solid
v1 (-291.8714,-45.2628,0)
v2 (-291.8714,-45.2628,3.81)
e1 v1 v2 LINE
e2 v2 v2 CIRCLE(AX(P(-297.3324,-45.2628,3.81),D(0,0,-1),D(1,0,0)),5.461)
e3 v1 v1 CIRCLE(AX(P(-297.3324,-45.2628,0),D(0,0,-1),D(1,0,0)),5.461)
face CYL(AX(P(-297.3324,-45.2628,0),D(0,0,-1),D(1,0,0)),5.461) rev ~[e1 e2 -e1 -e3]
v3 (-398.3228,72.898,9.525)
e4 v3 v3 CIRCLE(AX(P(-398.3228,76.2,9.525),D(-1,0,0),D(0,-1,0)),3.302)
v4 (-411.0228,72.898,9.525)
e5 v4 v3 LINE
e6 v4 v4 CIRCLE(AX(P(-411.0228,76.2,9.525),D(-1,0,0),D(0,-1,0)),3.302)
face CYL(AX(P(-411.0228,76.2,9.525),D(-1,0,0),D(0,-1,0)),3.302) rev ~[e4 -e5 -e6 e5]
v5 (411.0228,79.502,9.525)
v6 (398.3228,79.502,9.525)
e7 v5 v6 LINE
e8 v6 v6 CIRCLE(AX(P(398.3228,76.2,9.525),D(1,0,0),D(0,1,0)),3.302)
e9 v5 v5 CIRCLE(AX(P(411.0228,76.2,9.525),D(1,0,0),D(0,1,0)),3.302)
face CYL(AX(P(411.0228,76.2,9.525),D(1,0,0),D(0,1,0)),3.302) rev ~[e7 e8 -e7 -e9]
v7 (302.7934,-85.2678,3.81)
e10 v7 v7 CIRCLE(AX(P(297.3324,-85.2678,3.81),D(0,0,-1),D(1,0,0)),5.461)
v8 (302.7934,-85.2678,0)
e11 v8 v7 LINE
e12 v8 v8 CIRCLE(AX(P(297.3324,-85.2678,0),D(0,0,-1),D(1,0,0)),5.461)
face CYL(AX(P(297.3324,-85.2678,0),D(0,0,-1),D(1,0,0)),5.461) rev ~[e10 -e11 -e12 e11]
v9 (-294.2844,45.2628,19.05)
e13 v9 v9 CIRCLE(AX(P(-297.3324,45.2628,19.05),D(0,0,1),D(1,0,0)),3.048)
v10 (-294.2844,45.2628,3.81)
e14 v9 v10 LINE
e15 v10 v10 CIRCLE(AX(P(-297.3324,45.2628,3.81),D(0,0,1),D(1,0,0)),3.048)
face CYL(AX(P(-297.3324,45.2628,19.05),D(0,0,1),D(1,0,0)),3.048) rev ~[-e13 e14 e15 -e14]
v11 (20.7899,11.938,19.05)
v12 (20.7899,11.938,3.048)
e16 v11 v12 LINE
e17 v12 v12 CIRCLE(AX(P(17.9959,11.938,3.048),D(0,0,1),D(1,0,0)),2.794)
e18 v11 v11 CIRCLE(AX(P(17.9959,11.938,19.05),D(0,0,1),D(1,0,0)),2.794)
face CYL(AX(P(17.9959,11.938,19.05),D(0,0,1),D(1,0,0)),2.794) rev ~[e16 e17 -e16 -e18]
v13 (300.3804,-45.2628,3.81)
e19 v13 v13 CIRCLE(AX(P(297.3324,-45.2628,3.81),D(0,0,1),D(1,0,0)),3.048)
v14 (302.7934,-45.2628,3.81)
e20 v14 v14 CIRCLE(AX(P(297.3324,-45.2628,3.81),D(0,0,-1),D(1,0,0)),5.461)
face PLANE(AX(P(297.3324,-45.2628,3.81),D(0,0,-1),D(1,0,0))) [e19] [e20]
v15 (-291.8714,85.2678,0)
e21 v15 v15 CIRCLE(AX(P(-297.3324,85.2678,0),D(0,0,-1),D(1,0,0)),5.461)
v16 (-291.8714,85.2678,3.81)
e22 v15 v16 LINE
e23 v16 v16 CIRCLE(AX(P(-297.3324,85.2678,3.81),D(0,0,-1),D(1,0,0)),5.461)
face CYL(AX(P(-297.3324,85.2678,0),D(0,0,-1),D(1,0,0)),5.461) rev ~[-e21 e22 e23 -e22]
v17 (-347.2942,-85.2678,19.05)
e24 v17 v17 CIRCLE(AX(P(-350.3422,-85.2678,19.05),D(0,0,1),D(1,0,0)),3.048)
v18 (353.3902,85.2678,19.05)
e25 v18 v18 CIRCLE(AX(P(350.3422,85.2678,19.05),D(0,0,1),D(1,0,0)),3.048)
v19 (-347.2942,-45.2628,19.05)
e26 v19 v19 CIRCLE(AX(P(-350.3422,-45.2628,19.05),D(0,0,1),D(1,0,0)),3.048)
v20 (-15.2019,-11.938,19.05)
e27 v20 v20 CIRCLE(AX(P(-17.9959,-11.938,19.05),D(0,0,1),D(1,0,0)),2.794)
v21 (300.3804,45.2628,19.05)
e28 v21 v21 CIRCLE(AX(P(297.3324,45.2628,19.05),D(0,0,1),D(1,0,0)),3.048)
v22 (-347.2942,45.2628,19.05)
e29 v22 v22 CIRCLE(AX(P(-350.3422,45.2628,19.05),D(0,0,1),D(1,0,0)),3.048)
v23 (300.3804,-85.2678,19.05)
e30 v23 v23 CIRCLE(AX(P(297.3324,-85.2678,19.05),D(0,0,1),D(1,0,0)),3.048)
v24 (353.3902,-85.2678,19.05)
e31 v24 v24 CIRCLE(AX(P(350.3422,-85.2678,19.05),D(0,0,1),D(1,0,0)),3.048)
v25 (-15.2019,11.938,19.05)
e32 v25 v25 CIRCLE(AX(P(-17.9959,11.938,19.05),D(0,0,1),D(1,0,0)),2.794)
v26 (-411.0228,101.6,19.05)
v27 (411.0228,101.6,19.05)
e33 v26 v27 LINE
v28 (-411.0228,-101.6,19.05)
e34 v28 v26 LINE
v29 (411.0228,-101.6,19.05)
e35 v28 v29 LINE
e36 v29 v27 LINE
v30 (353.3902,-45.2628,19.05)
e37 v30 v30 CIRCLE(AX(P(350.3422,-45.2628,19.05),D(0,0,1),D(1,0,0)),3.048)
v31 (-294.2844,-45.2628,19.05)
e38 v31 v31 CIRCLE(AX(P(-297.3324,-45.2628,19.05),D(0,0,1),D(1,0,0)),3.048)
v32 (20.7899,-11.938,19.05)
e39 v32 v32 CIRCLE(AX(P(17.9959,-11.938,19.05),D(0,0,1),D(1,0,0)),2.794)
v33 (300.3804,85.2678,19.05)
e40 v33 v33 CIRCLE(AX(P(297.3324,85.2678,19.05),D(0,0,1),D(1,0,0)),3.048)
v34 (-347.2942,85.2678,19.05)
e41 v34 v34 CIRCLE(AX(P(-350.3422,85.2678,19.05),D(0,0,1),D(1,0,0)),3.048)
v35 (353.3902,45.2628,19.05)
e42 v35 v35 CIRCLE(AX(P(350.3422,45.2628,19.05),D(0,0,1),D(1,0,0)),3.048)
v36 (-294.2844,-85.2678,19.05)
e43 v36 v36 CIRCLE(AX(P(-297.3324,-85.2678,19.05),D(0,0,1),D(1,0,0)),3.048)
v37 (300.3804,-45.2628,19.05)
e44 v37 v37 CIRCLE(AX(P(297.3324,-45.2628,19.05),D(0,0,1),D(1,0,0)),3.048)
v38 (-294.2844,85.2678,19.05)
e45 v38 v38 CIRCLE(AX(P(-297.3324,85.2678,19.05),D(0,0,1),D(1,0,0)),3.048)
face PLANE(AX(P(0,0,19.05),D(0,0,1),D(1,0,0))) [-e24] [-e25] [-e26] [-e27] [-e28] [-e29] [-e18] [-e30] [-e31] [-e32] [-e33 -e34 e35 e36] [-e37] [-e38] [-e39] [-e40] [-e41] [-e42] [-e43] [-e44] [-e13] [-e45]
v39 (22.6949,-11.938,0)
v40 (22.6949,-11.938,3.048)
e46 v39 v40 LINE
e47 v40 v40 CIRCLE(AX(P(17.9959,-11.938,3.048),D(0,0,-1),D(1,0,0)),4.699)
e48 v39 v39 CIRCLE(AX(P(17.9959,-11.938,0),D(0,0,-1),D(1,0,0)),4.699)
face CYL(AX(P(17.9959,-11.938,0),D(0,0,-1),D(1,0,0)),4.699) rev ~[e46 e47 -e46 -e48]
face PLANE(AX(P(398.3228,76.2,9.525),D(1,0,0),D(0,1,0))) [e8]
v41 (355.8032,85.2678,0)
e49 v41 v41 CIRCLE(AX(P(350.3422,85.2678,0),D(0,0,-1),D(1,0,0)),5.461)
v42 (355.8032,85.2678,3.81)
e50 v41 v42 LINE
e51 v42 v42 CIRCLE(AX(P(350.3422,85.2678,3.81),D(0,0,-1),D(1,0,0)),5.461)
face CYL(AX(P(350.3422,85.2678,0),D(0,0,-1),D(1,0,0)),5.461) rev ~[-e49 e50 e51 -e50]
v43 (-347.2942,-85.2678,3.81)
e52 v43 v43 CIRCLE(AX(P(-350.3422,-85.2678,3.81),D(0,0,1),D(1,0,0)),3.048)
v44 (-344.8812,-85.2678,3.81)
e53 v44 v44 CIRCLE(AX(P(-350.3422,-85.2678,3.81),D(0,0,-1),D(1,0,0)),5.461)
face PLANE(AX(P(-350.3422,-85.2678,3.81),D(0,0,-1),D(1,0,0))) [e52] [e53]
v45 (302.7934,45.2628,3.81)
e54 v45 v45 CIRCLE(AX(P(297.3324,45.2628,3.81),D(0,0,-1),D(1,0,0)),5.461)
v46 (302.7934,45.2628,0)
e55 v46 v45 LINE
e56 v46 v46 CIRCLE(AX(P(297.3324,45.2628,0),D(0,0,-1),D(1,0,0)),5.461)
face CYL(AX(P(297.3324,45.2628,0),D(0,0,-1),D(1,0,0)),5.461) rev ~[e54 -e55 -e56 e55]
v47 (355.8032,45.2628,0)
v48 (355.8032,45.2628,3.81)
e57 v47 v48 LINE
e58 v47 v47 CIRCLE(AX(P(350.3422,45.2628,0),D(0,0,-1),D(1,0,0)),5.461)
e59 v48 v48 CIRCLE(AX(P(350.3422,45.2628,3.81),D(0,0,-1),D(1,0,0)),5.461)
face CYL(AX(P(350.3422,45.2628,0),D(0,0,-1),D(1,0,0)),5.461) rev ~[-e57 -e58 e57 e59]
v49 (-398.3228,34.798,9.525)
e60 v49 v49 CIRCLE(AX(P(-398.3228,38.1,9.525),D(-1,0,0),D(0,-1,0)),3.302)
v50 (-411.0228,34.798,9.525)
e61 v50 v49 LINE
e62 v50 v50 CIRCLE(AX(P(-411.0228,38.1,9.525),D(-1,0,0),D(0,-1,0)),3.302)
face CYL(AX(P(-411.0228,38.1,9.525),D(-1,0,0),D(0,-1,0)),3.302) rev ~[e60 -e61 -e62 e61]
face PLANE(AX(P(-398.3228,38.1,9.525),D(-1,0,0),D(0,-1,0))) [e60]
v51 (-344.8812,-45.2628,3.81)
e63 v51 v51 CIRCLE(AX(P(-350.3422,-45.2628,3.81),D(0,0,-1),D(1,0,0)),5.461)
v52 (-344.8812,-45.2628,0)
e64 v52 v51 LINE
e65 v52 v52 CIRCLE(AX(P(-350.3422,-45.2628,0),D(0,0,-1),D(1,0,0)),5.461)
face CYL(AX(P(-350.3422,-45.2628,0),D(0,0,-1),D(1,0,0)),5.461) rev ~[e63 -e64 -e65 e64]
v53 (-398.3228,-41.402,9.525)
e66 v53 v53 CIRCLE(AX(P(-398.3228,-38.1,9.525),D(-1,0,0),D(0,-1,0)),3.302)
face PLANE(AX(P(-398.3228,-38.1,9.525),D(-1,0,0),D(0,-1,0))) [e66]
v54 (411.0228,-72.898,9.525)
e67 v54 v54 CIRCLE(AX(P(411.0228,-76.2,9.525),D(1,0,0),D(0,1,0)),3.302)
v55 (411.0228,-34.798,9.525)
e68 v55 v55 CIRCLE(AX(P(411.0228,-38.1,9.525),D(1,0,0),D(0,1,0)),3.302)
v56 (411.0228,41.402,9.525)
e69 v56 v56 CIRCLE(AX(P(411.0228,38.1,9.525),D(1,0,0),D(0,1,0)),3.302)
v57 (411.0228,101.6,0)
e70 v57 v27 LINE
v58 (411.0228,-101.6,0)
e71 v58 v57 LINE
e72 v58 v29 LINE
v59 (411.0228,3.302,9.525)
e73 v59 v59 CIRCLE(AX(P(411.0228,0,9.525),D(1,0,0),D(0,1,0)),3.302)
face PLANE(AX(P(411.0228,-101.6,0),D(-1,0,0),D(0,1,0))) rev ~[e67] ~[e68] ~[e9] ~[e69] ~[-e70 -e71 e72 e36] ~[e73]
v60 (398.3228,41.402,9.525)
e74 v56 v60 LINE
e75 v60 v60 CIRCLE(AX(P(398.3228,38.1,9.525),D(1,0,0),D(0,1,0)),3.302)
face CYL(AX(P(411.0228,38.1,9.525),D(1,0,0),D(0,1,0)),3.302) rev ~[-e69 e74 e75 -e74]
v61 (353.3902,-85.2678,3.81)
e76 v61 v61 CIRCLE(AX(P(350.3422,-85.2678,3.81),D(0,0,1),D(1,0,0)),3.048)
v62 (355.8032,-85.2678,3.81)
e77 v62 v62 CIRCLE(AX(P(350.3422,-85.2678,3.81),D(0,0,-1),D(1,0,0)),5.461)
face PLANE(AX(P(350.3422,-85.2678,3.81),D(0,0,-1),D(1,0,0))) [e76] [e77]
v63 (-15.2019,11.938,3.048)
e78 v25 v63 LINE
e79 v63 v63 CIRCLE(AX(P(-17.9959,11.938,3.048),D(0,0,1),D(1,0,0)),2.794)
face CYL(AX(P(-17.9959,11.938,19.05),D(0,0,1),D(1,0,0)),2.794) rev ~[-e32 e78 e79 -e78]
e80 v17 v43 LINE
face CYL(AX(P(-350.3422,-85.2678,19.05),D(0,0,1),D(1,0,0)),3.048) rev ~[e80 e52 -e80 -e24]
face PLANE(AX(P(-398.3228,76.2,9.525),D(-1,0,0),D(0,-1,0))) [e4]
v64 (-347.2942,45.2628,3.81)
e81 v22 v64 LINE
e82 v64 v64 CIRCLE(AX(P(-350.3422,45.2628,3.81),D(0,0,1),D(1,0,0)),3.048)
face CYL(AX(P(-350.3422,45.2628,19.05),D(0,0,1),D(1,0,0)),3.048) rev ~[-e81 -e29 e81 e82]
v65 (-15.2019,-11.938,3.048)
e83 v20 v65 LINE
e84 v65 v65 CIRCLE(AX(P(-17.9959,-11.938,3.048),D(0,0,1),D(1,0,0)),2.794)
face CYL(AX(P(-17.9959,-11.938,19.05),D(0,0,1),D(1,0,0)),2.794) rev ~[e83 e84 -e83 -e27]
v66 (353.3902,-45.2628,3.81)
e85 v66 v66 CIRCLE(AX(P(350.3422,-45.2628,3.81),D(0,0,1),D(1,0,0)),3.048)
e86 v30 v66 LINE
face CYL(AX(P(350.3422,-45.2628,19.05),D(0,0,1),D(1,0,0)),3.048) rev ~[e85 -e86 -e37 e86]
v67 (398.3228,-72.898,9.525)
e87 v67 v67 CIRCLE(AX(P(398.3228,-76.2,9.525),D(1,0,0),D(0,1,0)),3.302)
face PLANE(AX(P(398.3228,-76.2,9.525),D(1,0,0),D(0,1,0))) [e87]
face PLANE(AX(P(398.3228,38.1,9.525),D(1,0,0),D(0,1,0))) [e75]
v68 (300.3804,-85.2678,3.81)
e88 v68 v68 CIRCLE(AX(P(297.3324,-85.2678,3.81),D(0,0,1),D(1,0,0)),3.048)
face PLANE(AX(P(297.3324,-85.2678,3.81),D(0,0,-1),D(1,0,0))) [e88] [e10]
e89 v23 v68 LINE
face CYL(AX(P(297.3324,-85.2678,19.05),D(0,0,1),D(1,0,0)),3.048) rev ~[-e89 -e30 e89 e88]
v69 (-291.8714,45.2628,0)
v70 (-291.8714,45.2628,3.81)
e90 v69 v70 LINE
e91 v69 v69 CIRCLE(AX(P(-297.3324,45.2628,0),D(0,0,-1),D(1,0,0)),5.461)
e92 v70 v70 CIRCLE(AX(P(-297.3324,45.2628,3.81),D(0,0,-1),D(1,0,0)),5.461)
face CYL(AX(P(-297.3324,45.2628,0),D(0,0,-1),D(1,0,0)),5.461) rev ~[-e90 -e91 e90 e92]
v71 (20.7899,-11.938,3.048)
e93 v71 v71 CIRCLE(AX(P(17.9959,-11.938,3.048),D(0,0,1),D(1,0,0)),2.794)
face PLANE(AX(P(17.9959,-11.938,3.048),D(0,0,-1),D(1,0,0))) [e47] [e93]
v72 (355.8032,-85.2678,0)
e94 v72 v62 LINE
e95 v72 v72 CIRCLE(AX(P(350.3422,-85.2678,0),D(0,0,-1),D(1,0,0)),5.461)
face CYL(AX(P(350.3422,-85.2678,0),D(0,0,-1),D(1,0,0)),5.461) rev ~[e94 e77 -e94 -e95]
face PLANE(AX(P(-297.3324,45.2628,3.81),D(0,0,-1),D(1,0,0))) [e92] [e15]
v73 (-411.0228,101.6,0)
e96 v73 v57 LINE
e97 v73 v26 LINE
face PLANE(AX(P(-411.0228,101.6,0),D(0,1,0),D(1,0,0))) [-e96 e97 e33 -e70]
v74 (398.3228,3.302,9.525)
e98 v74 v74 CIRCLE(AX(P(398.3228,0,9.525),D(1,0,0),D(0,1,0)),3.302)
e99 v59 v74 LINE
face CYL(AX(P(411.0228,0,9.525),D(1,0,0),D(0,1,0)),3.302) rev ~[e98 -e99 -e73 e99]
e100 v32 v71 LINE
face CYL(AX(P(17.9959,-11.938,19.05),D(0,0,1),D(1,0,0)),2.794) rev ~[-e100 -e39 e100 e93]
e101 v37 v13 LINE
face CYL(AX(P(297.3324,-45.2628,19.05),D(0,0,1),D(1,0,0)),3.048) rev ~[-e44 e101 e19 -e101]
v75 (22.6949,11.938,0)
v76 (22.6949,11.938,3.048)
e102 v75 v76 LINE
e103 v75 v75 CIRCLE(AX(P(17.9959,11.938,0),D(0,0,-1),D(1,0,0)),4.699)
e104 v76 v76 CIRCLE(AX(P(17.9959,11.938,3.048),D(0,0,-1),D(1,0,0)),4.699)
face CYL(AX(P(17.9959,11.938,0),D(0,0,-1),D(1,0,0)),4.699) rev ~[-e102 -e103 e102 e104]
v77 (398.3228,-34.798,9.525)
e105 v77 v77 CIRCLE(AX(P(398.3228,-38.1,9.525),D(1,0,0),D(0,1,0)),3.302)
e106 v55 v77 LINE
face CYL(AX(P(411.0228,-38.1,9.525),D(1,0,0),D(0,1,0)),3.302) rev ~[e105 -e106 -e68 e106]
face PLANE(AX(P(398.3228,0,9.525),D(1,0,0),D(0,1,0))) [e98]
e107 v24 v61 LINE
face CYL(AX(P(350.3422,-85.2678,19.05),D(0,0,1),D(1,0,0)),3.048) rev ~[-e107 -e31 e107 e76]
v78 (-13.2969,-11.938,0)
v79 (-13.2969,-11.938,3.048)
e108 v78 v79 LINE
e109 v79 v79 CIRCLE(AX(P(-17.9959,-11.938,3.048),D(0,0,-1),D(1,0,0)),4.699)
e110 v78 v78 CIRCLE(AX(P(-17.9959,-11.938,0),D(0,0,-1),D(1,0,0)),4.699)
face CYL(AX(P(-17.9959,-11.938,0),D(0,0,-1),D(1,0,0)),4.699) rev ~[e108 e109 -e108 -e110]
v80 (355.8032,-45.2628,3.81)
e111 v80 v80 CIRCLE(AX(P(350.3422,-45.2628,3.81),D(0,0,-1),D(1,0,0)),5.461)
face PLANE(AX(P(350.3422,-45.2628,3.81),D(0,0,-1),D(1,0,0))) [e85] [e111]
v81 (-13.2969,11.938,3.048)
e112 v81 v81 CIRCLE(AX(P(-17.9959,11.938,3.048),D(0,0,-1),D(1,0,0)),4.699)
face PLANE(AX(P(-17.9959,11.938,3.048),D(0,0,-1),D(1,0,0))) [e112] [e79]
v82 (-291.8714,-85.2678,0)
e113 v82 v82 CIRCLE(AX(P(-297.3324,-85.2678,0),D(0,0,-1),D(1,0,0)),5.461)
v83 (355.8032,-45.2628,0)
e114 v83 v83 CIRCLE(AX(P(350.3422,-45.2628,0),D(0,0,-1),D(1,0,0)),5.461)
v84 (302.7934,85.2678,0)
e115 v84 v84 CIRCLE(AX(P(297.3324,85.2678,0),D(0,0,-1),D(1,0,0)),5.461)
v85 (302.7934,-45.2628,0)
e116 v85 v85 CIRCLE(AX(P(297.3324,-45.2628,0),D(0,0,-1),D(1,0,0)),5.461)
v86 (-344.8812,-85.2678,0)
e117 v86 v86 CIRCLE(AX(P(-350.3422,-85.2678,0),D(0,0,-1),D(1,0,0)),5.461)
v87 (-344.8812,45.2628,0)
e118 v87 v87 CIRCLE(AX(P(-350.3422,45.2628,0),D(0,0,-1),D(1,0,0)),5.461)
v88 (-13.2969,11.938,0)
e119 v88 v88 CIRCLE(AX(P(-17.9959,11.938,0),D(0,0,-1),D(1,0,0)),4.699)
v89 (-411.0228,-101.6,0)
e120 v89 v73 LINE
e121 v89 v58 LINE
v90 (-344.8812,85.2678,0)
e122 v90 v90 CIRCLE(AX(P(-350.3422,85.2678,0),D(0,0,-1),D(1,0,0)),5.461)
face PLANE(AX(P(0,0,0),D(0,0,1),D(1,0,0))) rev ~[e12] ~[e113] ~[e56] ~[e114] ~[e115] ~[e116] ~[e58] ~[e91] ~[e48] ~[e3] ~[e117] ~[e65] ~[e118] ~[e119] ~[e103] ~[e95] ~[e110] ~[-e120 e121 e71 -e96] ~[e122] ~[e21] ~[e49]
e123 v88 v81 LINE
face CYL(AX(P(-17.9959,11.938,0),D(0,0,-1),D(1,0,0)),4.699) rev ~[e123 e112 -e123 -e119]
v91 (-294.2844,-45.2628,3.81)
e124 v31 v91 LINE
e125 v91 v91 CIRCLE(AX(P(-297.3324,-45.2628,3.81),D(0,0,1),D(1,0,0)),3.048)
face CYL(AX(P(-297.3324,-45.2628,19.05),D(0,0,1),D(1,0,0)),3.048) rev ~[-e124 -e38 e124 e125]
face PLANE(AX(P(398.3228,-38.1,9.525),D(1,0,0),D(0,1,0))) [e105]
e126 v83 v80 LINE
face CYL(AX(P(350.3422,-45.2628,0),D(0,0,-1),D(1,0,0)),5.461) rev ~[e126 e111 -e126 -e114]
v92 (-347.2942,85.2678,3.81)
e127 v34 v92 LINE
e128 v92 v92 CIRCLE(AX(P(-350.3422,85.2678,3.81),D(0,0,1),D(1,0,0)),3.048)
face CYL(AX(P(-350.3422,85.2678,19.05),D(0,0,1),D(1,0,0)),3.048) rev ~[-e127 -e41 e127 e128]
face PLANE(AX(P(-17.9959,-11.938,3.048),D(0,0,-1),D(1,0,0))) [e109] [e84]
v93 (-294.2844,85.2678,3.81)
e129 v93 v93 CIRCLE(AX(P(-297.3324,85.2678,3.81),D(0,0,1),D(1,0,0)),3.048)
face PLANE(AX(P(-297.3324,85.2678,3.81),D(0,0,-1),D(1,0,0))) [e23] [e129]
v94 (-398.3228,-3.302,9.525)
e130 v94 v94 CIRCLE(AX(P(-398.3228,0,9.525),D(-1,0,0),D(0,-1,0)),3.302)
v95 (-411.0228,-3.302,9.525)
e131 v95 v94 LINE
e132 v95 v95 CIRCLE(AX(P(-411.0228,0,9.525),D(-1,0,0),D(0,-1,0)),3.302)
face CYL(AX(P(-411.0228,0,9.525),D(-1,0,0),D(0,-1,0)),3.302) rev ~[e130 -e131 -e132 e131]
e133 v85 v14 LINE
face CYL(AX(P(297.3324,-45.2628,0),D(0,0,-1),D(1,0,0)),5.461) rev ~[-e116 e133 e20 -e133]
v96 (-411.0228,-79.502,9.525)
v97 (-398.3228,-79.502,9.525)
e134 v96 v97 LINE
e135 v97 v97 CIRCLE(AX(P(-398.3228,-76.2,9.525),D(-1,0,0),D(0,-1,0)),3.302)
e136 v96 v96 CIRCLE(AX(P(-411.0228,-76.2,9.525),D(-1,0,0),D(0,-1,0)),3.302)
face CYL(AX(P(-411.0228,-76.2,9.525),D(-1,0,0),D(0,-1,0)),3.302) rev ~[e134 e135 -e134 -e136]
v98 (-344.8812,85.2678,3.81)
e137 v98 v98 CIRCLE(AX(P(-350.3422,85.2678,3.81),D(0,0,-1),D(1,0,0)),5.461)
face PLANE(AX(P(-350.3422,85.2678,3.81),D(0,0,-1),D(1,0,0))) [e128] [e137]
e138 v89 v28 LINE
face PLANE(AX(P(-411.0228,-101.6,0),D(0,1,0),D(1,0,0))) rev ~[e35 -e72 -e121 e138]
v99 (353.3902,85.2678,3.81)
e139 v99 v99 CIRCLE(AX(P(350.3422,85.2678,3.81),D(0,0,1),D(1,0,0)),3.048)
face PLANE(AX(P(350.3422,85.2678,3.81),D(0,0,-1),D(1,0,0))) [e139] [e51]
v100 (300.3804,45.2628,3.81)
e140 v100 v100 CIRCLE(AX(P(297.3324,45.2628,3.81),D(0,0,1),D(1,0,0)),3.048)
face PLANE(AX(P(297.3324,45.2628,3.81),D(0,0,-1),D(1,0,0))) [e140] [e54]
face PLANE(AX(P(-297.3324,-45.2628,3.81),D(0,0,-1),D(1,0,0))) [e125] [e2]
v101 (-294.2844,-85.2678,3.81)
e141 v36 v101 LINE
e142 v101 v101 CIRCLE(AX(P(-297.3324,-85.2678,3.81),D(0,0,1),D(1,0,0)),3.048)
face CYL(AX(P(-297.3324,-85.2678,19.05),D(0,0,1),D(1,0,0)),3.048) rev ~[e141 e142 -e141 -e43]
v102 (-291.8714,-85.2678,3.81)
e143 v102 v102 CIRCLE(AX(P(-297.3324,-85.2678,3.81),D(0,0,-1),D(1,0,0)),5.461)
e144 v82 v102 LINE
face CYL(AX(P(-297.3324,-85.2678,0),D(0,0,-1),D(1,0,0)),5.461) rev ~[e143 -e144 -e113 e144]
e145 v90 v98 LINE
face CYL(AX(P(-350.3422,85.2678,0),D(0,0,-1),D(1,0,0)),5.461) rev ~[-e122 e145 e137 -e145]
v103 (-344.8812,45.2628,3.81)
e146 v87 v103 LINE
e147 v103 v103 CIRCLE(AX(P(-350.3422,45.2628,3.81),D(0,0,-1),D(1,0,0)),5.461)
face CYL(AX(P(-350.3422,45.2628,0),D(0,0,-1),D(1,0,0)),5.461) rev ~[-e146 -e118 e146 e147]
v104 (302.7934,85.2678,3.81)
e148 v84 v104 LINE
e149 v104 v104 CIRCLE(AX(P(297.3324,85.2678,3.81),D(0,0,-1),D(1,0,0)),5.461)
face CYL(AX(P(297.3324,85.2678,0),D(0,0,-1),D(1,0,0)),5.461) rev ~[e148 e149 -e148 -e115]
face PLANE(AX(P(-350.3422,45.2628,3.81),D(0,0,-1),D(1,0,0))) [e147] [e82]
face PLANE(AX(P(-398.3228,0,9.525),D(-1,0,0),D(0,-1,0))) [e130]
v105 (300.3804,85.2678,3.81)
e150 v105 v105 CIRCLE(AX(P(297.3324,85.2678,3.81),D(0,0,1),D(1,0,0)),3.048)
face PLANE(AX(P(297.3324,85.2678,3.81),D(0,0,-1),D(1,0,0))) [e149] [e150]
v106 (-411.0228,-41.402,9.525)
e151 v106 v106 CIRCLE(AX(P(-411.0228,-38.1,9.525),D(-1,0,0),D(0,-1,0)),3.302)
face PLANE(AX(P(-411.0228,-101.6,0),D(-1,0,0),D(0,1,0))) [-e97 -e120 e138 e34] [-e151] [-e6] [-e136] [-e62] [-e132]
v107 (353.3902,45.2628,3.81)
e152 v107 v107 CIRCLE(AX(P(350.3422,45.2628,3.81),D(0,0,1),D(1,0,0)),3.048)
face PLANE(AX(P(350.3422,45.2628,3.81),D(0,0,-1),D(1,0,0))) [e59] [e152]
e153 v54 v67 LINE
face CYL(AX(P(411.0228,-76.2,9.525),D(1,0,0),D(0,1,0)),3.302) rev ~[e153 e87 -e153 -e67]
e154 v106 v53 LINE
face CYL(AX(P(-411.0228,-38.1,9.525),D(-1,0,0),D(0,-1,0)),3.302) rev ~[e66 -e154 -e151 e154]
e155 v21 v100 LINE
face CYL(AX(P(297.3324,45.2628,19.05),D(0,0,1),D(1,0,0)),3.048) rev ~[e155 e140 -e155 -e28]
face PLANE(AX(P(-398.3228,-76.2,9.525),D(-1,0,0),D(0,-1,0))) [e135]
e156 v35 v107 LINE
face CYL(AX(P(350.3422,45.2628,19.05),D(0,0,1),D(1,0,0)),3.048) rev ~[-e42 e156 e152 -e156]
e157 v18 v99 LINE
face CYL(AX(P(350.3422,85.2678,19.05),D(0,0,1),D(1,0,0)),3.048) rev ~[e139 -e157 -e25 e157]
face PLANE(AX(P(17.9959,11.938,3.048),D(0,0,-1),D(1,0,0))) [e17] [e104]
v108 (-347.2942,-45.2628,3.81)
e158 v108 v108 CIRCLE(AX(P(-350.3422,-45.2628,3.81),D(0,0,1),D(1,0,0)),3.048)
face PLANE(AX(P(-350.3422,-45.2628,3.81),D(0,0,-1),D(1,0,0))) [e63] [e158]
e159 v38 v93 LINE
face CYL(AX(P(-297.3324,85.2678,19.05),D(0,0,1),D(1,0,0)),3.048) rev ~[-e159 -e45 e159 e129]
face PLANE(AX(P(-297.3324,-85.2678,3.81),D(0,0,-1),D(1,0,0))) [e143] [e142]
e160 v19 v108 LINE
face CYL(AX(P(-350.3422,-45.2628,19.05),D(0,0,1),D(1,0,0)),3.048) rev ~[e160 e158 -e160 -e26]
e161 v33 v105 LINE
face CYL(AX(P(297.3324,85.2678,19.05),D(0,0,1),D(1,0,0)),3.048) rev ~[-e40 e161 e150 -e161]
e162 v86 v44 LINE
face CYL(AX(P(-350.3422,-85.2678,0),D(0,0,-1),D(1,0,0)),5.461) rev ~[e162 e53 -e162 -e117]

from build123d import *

# Parameters (mm, degrees)
F0_W      = 822.0456
F0_H      = 203.2
F1_DEPTH  = 19.05
F2_R      = 3.048
F3_DEPTH  = 19.051
F4_R      = 2.794
F5_DEPTH  = 19.051
F6_R      = 3.302
F7_DEPTH  = 12.7
F8_R      = 3.302
F9_DEPTH  = 12.7
F10_R     = 5.461
F11_DEPTH = 3.81
F12_R     = 4.699
F13_DEPTH = 3.048


with BuildPart() as f1:
    # F0 (on Top) → F1 (new body)
    with BuildSketch(Plane.XY):
        Rectangle(F0_W, F0_H)
    extrude(amount=F1_DEPTH)

    # F2 (on face) → F3 (cut, through all)
    with BuildSketch(Plane.XY.offset(19.05)):
        with Locations((-350.3422, 85.2678)):
            Circle(F2_R)
        with Locations((-297.3324, 85.2678)):
            Circle(F2_R)
        with Locations((-350.3422, 45.2628)):
            Circle(F2_R)
        with Locations((-297.3324, 45.2628)):
            Circle(F2_R)
        with Locations((-350.3422, -45.2628)):
            Circle(F2_R)
        with Locations((-297.3324, -45.2628)):
            Circle(F2_R)
        with Locations((297.3324, 85.2678)):
            Circle(F2_R)
        with Locations((350.3422, 85.2678)):
            Circle(F2_R)
        with Locations((297.3324, 45.2628)):
            Circle(F2_R)
        with Locations((350.3422, 45.2628)):
            Circle(F2_R)
        with Locations((297.3324, -45.2628)):
            Circle(F2_R)
        with Locations((350.3422, -45.2628)):
            Circle(F2_R)
        with Locations((297.3324, -85.2678)):
            Circle(F2_R)
        with Locations((350.3422, -85.2678)):
            Circle(F2_R)
        with Locations((-350.3422, -85.2678)):
            Circle(F2_R)
        with Locations((-297.3324, -85.2678)):
            Circle(F2_R)
    extrude(amount=-F3_DEPTH, mode=Mode.SUBTRACT)

    # F4 (on face) → F5 (cut, through all)
    with BuildSketch(Plane.XY.offset(19.05)):
        with Locations((-17.9959, 11.938)):
            Circle(F4_R)
        with Locations((17.9959, 11.938)):
            Circle(F4_R)
        with Locations((-17.9959, -11.938)):
            Circle(F4_R)
        with Locations((17.9959, -11.938)):
            Circle(F4_R)
    extrude(amount=-F5_DEPTH, mode=Mode.SUBTRACT)

    # F6 (on face) → F7 (cut)
    with BuildSketch(Plane.YZ.offset(411.0228)):
        with Locations((-76.2, 9.525)):
            Circle(F6_R)
        with Locations((-38.1, 9.525)):
            Circle(F6_R)
        with Locations((0, 9.525)):
            Circle(F6_R)
        with Locations((38.1, 9.525)):
            Circle(F6_R)
        with Locations((76.2, 9.525)):
            Circle(F6_R)
    extrude(amount=-F7_DEPTH, mode=Mode.SUBTRACT)

    # F8 (on face) → F9 (cut)
    with BuildSketch(Plane(origin=(-411.0228, 0, 0), x_dir=(0, -1, 0), z_dir=(-1, 0, 0))):
        with Locations((-76.2, 9.525)):
            Circle(F8_R)
        with Locations((-38.1, 9.525)):
            Circle(F8_R)
        with Locations((0, 9.525)):
            Circle(F8_R)
        with Locations((38.1, 9.525)):
            Circle(F8_R)
        with Locations((76.2, 9.525)):
            Circle(F8_R)
    extrude(amount=-F9_DEPTH, mode=Mode.SUBTRACT)

    # F10 (on face) → F11 (cut)
    with BuildSketch(Plane(origin=(0, 0, 0), x_dir=(1, 0, 0), z_dir=(0, 0, -1))):
        with Locations((-350.3422, 85.2678)):
            Circle(F10_R)
        with Locations((-350.3422, 45.2628)):
            Circle(F10_R)
        with Locations((-297.3324, 85.2678)):
            Circle(F10_R)
        with Locations((-297.3324, 45.2628)):
            Circle(F10_R)
        with Locations((-350.3422, -45.2628)):
            Circle(F10_R)
        with Locations((-297.3324, -45.2628)):
            Circle(F10_R)
        with Locations((-297.3324, -85.2678)):
            Circle(F10_R)
        with Locations((-350.3422, -85.2678)):
            Circle(F10_R)
        with Locations((297.3324, 85.2678)):
            Circle(F10_R)
        with Locations((297.3324, 45.2628)):
            Circle(F10_R)
        with Locations((350.3422, 85.2678)):
            Circle(F10_R)
        with Locations((350.3422, 45.2628)):
            Circle(F10_R)
        with Locations((297.3324, -45.2628)):
            Circle(F10_R)
        with Locations((297.3324, -85.2678)):
            Circle(F10_R)
        with Locations((350.3422, -45.2628)):
            Circle(F10_R)
        with Locations((350.3422, -85.2678)):
            Circle(F10_R)
    extrude(amount=-F11_DEPTH, mode=Mode.SUBTRACT)

    # F12 (on face) → F13 (cut)
    with BuildSketch(Plane(origin=(0, 0, 0), x_dir=(1, 0, 0), z_dir=(0, 0, -1))):
        with Locations((-17.9959, 11.938)):
            Circle(F12_R)
        with Locations((-17.9959, -11.938)):
            Circle(F12_R)
        with Locations((17.9959, -11.938)):
            Circle(F12_R)
        with Locations((17.9959, 11.938)):
            Circle(F12_R)
    extrude(amount=-F13_DEPTH, mode=Mode.SUBTRACT)


solid = f1.part
